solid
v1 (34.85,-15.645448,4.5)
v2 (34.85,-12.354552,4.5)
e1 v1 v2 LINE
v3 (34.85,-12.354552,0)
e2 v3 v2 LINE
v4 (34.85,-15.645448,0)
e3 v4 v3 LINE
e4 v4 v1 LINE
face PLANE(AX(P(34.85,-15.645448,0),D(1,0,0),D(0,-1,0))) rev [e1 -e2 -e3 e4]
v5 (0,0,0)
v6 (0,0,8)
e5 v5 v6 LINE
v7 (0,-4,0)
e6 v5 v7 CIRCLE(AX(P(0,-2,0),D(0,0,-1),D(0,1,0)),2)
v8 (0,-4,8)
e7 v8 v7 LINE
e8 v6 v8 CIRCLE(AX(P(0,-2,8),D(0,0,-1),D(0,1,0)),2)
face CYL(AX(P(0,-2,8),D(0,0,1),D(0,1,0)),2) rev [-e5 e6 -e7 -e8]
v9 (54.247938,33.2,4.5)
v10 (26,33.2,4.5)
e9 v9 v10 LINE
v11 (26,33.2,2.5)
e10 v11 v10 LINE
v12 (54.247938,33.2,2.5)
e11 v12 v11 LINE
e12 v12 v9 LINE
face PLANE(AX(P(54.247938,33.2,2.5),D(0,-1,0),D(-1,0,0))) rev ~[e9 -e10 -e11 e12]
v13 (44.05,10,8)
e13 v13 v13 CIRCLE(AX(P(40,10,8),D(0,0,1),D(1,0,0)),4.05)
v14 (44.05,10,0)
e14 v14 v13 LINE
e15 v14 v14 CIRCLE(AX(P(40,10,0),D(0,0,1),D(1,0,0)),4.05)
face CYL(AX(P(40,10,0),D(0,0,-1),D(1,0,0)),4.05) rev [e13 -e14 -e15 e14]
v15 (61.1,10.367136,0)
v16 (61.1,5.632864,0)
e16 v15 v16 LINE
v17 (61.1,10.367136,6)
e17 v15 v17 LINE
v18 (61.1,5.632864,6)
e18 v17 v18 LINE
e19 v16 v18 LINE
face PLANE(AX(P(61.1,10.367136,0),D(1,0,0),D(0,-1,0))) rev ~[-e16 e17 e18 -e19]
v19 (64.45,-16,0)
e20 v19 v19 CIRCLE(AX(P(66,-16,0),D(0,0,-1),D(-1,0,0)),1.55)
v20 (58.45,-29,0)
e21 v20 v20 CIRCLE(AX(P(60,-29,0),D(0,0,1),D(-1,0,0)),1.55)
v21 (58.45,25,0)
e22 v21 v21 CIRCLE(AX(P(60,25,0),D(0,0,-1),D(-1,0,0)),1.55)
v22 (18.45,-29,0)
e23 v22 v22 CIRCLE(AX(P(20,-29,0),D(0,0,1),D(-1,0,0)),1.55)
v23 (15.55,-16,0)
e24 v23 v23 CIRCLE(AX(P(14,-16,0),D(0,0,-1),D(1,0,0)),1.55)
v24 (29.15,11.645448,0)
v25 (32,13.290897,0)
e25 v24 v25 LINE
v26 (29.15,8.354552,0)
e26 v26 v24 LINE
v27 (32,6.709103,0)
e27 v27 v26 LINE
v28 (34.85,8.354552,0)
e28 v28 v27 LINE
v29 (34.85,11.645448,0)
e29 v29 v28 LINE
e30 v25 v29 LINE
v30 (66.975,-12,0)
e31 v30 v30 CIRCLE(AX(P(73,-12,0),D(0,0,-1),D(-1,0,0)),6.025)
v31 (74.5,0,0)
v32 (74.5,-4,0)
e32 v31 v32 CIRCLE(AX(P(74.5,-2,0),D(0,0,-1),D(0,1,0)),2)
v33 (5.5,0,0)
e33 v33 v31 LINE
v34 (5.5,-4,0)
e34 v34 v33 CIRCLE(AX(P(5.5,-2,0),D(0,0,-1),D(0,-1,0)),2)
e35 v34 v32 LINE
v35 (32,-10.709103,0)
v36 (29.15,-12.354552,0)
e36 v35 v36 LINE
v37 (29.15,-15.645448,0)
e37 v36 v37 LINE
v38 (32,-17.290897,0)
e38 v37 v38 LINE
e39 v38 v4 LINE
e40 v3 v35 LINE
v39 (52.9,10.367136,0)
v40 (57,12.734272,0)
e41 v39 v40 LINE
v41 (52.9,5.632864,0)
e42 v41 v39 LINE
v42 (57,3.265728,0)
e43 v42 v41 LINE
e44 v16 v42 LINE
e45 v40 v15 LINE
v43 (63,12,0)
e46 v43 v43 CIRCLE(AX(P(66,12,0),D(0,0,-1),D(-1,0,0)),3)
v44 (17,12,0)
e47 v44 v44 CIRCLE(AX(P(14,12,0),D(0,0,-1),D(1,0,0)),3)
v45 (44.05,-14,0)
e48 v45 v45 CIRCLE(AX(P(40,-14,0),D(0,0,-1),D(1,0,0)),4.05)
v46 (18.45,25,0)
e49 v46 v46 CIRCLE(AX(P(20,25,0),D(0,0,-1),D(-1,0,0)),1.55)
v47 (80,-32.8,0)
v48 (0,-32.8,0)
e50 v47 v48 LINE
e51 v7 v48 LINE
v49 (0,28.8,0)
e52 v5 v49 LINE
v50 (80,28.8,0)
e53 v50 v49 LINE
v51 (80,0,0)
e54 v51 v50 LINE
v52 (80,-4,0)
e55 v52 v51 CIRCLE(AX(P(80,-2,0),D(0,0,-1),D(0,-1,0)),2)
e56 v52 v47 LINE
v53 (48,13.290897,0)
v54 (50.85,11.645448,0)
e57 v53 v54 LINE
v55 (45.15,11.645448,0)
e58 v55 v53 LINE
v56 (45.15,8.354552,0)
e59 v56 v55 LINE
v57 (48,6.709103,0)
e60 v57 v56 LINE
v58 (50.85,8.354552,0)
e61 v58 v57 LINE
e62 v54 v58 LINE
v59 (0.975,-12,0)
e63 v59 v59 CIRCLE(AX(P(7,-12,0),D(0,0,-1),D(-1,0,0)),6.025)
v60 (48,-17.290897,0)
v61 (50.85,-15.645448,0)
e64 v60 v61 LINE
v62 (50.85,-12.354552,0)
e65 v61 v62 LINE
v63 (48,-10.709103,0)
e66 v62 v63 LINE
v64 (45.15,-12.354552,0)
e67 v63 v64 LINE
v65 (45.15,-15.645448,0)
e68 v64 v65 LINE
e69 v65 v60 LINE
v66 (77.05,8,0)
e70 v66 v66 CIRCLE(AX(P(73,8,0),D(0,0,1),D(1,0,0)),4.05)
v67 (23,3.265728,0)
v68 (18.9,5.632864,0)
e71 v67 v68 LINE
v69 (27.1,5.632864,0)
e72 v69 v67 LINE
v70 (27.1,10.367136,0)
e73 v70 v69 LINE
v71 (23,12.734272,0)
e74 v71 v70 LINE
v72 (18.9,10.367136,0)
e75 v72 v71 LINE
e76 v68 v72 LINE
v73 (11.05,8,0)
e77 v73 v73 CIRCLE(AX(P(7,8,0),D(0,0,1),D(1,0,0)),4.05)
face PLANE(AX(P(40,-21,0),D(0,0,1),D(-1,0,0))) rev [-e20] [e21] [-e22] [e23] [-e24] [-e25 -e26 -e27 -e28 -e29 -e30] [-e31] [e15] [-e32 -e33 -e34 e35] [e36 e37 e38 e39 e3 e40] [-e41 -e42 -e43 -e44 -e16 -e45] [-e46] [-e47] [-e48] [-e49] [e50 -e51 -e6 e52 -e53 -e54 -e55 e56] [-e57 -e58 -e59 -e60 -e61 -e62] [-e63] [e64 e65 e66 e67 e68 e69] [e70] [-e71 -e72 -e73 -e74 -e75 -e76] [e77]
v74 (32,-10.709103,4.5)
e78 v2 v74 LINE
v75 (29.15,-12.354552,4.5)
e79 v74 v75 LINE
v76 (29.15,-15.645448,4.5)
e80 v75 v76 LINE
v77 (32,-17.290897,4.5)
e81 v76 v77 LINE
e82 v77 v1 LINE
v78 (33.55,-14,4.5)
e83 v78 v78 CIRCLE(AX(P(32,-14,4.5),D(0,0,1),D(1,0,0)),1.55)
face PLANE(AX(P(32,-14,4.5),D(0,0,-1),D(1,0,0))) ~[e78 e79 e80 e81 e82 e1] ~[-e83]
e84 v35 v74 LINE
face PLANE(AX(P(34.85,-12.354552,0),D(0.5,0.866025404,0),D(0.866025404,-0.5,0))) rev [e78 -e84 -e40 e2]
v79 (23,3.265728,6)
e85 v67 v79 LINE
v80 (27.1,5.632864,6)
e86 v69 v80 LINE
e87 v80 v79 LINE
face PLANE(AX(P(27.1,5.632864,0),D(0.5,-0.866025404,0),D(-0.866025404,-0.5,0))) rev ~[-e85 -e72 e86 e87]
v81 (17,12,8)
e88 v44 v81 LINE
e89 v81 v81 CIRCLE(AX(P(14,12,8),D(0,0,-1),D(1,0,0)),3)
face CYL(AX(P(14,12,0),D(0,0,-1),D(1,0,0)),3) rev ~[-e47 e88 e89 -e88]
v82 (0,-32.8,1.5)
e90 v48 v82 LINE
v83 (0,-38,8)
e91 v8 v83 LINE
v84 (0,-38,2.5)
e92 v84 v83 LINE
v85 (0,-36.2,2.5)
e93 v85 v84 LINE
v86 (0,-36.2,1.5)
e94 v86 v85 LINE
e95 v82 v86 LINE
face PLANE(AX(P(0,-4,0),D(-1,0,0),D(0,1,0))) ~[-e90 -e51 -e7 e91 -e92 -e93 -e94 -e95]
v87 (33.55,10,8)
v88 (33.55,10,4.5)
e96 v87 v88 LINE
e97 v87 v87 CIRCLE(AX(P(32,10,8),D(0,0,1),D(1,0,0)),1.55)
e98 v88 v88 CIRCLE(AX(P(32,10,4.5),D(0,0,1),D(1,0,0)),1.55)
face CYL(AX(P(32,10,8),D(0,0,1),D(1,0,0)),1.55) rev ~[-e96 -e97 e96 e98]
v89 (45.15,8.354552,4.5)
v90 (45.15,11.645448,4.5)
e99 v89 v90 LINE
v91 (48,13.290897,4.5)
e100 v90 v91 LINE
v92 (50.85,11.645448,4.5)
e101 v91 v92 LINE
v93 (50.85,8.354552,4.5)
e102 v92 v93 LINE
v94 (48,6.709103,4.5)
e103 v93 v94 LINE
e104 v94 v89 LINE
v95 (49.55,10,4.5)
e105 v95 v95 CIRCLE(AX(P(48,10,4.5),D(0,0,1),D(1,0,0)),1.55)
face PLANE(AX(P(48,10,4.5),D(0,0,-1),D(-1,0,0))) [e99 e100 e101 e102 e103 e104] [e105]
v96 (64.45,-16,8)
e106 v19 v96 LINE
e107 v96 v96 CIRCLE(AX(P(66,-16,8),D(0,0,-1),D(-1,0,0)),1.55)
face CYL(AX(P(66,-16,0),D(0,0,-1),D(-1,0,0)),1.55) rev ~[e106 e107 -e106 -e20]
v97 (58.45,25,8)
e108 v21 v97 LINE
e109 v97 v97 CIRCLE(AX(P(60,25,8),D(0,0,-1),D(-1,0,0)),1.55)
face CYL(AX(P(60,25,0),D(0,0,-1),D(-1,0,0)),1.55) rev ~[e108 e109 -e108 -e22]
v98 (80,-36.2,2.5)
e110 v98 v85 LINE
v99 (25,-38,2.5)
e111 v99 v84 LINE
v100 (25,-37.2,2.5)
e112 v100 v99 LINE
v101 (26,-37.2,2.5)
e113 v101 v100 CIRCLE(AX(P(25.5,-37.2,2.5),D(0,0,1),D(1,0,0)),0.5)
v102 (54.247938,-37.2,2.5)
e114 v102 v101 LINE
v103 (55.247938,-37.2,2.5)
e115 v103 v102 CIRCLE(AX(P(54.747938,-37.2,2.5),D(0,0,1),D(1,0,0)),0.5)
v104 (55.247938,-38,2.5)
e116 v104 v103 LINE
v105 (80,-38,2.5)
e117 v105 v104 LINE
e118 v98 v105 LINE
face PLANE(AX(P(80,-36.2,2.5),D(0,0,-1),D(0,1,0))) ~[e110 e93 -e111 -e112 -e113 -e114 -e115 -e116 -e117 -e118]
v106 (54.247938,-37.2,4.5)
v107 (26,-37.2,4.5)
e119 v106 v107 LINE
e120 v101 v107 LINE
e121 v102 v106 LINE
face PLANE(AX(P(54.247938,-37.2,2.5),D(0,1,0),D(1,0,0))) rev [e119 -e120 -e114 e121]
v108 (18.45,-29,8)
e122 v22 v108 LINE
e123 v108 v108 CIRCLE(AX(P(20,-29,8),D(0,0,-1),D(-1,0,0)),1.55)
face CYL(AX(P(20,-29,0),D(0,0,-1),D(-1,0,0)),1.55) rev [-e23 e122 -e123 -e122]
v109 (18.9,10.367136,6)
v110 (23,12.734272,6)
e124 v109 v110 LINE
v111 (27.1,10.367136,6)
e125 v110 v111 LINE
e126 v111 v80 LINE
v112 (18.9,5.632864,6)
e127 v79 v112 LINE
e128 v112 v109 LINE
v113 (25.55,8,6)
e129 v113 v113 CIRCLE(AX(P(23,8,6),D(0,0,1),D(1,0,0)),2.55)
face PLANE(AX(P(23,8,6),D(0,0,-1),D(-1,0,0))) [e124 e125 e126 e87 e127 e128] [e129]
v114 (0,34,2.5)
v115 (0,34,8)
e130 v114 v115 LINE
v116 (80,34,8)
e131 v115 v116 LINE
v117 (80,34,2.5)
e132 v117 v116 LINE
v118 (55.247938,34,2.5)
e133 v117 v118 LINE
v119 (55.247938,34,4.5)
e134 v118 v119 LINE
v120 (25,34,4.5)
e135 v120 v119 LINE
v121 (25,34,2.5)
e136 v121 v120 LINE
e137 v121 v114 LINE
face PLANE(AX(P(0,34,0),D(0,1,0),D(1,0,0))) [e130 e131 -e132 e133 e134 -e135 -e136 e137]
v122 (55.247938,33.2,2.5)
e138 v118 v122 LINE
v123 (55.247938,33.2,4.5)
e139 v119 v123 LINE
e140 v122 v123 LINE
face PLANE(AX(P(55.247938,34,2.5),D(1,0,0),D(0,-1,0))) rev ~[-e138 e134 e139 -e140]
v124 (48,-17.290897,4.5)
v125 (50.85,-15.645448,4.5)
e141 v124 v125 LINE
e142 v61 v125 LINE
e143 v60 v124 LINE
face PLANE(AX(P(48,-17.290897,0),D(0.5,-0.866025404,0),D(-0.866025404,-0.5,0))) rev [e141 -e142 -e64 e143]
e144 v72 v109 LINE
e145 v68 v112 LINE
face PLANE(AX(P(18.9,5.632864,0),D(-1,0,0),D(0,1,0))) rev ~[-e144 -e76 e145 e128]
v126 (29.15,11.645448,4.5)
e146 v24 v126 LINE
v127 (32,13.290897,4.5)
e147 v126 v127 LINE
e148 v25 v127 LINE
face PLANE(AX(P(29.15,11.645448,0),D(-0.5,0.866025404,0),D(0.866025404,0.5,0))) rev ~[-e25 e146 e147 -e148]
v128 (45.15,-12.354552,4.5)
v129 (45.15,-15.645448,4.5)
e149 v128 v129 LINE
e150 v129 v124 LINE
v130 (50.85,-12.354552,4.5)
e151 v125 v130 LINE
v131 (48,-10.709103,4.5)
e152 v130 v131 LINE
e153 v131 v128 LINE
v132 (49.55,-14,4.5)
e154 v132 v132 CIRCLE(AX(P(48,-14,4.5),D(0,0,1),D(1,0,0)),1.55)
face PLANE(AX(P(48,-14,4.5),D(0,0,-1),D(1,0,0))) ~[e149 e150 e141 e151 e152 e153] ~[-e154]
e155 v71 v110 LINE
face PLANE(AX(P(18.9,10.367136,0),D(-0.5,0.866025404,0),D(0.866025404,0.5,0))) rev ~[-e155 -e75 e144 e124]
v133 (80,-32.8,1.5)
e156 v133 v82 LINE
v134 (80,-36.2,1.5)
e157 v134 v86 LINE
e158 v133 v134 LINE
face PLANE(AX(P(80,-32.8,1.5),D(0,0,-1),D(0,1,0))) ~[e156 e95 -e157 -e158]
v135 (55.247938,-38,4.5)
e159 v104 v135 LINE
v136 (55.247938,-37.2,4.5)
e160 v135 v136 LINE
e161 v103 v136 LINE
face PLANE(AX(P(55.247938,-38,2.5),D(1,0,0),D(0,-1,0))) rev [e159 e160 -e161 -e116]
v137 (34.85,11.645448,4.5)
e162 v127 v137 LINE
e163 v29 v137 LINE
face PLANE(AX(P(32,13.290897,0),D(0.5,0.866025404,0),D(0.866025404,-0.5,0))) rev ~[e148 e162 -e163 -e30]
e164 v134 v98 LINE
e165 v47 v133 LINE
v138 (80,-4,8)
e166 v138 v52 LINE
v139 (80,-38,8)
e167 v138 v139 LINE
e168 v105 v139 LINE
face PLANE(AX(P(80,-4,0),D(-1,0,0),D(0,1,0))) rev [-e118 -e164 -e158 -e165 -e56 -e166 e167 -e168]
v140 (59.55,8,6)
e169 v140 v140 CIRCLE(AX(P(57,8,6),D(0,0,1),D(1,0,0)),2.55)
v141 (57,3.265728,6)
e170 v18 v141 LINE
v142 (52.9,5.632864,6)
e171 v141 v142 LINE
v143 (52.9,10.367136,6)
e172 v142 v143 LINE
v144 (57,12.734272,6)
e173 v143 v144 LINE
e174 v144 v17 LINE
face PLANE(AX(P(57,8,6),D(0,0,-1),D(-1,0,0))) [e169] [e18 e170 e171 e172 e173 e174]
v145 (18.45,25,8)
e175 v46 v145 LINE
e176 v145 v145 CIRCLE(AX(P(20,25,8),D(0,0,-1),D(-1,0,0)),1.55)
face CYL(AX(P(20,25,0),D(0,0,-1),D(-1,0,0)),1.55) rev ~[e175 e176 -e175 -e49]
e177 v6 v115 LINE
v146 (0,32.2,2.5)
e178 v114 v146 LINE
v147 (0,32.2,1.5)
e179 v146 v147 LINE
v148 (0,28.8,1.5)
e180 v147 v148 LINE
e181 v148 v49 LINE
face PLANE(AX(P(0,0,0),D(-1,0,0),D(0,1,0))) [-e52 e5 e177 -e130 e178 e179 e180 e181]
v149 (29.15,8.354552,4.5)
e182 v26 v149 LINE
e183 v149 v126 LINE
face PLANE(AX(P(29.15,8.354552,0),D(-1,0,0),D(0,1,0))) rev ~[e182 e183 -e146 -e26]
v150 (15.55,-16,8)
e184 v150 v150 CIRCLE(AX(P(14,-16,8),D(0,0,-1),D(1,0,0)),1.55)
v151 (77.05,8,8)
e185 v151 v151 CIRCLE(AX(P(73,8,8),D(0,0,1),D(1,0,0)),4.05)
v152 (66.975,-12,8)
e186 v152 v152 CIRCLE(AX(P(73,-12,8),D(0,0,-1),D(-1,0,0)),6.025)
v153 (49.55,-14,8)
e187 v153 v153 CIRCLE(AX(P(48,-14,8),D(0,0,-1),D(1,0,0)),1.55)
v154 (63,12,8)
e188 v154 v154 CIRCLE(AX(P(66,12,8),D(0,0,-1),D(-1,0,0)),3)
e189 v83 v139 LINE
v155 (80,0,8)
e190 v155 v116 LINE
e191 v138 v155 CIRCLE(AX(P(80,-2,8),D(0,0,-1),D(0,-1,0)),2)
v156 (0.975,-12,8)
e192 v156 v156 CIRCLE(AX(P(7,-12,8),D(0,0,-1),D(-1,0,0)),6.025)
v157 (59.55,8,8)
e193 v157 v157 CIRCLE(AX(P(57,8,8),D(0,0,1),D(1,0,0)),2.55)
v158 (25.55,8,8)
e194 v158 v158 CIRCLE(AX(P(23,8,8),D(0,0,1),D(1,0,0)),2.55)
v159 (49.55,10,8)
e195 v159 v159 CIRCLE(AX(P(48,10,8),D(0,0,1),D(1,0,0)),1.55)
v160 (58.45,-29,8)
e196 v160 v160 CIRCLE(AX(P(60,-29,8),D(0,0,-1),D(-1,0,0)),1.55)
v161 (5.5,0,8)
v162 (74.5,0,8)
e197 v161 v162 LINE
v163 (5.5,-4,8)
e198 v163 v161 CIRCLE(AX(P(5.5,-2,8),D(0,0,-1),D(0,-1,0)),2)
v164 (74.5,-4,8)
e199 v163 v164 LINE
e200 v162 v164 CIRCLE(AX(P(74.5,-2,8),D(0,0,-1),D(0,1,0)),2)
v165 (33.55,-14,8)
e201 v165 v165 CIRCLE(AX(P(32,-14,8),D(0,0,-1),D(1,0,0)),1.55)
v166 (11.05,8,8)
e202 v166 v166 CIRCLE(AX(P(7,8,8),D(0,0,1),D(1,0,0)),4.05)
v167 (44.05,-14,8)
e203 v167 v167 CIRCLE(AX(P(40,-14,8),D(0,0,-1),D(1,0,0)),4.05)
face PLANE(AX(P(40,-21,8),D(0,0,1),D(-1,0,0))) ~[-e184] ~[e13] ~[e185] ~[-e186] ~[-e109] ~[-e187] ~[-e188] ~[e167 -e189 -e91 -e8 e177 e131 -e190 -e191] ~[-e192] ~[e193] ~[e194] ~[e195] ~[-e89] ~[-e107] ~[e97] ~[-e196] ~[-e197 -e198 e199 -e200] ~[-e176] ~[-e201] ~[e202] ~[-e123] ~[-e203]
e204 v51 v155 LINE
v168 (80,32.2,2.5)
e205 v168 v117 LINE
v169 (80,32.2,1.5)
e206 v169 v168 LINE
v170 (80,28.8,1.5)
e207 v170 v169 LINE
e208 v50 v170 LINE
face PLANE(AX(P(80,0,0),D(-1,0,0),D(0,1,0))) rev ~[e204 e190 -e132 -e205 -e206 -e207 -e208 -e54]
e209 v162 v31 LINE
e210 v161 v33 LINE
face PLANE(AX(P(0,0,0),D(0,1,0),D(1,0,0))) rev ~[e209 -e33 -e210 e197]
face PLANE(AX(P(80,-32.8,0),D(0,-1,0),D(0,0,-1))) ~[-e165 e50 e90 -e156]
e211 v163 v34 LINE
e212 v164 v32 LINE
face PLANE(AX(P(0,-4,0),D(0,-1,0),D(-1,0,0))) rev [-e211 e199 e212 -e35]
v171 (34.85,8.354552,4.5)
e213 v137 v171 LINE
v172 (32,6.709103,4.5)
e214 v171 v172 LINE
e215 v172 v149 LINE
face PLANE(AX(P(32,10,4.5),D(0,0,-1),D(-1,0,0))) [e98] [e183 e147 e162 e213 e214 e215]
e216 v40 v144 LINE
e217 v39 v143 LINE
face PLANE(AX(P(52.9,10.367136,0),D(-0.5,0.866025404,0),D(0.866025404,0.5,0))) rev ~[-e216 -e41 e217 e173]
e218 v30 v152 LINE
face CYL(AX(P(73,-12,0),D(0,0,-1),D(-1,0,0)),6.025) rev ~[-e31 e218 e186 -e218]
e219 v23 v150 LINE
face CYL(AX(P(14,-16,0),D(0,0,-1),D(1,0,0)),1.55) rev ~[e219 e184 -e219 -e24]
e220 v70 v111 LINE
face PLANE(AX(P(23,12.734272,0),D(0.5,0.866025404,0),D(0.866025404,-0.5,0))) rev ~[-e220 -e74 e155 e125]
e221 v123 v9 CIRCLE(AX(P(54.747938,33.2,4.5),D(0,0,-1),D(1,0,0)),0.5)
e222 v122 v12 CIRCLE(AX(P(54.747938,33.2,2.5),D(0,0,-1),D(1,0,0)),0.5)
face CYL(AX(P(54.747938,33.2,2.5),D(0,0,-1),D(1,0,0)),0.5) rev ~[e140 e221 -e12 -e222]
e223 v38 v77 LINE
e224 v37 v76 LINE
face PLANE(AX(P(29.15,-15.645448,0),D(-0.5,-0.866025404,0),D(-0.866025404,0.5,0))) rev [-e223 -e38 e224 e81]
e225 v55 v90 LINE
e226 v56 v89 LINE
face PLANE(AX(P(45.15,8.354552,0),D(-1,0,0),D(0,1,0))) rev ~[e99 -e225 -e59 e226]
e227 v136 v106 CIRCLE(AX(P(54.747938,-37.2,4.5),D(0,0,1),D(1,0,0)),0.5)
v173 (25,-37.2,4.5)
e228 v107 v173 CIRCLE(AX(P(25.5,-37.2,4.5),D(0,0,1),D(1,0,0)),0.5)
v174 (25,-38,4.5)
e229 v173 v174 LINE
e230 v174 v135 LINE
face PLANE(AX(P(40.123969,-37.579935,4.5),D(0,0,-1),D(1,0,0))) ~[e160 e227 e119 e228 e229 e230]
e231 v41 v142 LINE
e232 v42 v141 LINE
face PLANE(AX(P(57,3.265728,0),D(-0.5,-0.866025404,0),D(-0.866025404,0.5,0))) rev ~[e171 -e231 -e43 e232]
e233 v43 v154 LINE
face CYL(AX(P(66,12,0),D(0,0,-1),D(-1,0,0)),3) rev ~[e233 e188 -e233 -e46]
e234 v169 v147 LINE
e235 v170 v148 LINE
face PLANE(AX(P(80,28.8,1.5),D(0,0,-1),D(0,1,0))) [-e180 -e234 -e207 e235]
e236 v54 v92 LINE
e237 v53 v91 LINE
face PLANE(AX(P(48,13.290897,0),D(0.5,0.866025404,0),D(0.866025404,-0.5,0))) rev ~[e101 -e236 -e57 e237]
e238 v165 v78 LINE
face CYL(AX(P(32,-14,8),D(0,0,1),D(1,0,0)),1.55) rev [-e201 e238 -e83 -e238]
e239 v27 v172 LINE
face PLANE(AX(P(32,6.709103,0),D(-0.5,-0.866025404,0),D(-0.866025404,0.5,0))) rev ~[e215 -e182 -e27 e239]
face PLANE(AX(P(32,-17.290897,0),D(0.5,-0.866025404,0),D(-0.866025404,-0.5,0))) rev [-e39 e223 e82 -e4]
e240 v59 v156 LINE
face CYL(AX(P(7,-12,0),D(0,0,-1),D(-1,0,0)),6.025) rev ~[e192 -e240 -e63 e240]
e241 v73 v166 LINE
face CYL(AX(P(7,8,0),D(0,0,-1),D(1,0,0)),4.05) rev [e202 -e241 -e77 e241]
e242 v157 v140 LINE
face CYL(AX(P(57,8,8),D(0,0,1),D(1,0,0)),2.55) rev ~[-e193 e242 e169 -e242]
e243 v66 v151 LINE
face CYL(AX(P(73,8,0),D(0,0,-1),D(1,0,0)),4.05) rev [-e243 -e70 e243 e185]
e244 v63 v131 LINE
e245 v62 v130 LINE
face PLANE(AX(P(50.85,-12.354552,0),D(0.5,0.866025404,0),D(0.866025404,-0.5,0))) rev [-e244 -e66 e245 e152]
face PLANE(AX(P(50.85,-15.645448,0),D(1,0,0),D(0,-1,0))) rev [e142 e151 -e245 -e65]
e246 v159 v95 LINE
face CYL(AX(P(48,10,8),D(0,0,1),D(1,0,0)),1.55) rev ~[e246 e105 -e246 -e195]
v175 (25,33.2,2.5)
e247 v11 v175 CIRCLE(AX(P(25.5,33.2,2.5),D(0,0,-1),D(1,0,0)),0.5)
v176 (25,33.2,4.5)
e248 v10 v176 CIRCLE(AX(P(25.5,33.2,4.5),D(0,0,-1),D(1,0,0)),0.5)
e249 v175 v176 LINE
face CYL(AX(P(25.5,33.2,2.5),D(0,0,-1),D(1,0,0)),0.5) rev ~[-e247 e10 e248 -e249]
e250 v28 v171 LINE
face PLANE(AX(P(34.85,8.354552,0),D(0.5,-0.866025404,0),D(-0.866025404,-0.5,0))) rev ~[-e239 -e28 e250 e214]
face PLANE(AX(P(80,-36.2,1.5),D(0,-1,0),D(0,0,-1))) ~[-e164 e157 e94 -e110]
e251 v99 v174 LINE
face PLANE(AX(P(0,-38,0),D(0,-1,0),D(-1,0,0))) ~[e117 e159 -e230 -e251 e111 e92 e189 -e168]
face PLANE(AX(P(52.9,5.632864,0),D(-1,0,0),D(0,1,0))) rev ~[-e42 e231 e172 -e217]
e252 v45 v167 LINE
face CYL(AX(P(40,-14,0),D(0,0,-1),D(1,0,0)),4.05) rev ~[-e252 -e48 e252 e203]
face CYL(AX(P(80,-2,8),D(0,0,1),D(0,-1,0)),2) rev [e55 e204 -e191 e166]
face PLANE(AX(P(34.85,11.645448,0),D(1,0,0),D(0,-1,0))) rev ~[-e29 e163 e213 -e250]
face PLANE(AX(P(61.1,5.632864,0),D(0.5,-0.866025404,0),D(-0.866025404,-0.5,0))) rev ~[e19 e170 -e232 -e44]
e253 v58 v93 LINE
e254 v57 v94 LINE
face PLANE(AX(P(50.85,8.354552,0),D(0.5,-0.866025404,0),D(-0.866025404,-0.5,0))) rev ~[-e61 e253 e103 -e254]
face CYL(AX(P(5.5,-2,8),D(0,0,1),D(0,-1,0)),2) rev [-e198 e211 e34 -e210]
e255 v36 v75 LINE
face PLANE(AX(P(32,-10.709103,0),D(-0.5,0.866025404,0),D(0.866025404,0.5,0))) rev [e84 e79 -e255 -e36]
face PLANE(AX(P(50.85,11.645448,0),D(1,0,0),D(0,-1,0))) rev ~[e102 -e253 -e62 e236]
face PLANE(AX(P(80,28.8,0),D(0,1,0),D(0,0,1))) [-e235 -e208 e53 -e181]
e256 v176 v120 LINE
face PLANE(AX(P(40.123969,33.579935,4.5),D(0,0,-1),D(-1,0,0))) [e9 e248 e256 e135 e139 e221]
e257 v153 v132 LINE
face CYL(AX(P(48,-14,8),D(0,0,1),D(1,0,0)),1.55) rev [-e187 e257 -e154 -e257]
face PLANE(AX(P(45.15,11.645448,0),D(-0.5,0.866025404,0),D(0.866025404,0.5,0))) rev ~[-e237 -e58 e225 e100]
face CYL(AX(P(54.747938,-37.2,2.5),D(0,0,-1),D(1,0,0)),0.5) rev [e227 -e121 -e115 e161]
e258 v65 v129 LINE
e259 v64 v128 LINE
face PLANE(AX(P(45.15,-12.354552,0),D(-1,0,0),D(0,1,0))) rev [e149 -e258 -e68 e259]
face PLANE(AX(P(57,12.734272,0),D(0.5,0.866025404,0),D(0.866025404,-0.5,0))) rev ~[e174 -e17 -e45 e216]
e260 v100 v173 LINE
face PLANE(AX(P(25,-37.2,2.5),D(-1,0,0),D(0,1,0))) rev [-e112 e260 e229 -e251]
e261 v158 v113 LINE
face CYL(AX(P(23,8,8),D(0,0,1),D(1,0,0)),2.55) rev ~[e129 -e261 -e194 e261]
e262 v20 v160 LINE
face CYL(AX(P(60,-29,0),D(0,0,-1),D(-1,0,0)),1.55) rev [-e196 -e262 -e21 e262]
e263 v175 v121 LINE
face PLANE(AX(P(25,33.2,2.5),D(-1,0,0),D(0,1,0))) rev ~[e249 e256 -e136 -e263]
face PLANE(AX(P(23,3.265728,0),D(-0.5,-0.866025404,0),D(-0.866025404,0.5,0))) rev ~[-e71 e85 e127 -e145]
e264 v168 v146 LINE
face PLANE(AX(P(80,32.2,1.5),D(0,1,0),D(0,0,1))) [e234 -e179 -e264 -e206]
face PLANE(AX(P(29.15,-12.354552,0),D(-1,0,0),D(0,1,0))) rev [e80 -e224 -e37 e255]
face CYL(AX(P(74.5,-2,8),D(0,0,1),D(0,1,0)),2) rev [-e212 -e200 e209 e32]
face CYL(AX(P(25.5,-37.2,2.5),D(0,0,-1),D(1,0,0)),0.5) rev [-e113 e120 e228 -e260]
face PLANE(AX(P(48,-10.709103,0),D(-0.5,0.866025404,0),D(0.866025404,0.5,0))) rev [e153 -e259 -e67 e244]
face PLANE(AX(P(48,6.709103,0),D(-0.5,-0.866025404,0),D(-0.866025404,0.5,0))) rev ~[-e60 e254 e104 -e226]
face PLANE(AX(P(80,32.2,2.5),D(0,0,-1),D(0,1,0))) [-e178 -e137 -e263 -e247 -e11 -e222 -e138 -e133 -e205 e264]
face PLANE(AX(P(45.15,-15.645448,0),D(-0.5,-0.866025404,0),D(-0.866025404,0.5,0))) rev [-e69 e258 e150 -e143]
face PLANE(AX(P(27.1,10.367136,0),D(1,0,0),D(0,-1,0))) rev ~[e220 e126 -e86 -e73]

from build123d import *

# Parameters (mm, degrees)
SKETCH_2_W           = 80
SKETCH_2_H           = 34
SKETCH_2_R           = 4.05
EXTRUDE_1_DEPTH      = 8
SKETCH_3_R           = 2.55
CUT_EXTRUDE_1_DEPTH  = 88.292611371
CUT_EXTRUDE_2_DEPTH  = 88.292611371
SKETCH_5_R           = 1.55
CUT_EXTRUDE_3_DEPTH  = 88.292611371
CUT_EXTRUDE_5_DEPTH  = 4.5
SKETCH_25_R          = 1.55
CUT_EXTRUDE_13_DEPTH = 88.292611371
CUT_EXTRUDE_11_DEPTH = 2
EXTRUDE_2_DEPTH      = 8
SKETCH_26_R          = 6.025
CUT_EXTRUDE_14_DEPTH = 89.926936302
SKETCH_27_R          = 3
SKETCH_27_R_2        = 1.55
CUT_EXTRUDE_15_DEPTH = 89.926936302
CUT_EXTRUDE_16_DEPTH = 6


with BuildPart() as part:
    # 草图2 → 凸台-拉伸1 (new body)
    with BuildSketch(Plane.XY):
        with Locations((40, 17)):
            Rectangle(SKETCH_2_W, SKETCH_2_H)
        with Locations((7, 8)):
            Circle(SKETCH_2_R, mode=Mode.SUBTRACT)
        with Locations((40, 10)):
            Circle(SKETCH_2_R, mode=Mode.SUBTRACT)
        with Locations((73, 8)):
            Circle(SKETCH_2_R, mode=Mode.SUBTRACT)
    extrude_1 = extrude(amount=EXTRUDE_1_DEPTH)

    # 草图3 → 切除-拉伸1 (cut, through all)
    with BuildSketch(Plane.XY.offset(8)):
        with Locations((23, 8)):
            Circle(SKETCH_3_R)
        with Locations((57, 8)):
            Circle(SKETCH_3_R)
    extrude(amount=-CUT_EXTRUDE_1_DEPTH, mode=Mode.SUBTRACT)

    # 草图4 → 切除-拉伸2 (cut, through all)
    with BuildSketch(Plane(origin=(80, 0, 0), x_dir=(0, 0, -1), z_dir=(1, 0, 0))):
        Polygon((-1.5, 32.2), (-2.5, 32.2), (-2.5, 34), (0, 34), (0, 28.8), (-1.5, 28.8), align=None)
    cut_extrude_2 = extrude(amount=-CUT_EXTRUDE_2_DEPTH, mode=Mode.SUBTRACT)

    # 草图5 → 切除-拉伸3 (cut, through all)
    with BuildSketch(Plane.XY.offset(8)):
        with Locations((48, 10)):
            Circle(SKETCH_5_R)
        with Locations((32, 10)):
            Circle(SKETCH_5_R)
    cut_extrude_3 = extrude(amount=-CUT_EXTRUDE_3_DEPTH, mode=Mode.SUBTRACT)

    # 草图8 → 切除-拉伸5 (cut)
    with BuildSketch(Plane(origin=(0, 0, 0), x_dir=(-1, 0, 0), z_dir=(0, 0, -1))):
        Polygon((-45.15, 8.354551733), (-45.15, 11.645448267), (-48, 13.290896534), (-50.85, 11.645448267), (-50.85, 8.354551733), (-48, 6.709103466), align=None)
        Polygon((-29.15, 8.354551733), (-29.15, 11.645448267), (-32, 13.290896534), (-34.85, 11.645448267), (-34.85, 8.354551733), (-32, 6.709103466), align=None)
    cut_extrude_5 = extrude(amount=-CUT_EXTRUDE_5_DEPTH, mode=Mode.SUBTRACT)

    # 草图25 → 切除-拉伸13 (cut, through all)
    with BuildSketch(Plane(origin=(0, 0, 0), x_dir=(-1, 0, 0), z_dir=(0, 0, -1))):
        with Locations((-60, 25)):
            Circle(SKETCH_25_R)
        with Locations((-20, 25)):
            Circle(SKETCH_25_R)
    cut_extrude_13 = extrude(amount=-CUT_EXTRUDE_13_DEPTH, mode=Mode.SUBTRACT)

    # 草图19 → 切除-拉伸11 (cut)
    with BuildSketch(Plane(origin=(0, 0, 2.5), x_dir=(-1, 0, 0), z_dir=(0, 0, -1))):
        with BuildLine():
            Line((-25, 34), (-55.247938178, 34))
            Line((-55.247938178, 34), (-55.247938178, 33.2))
            ThreePointArc((-55.247938178, 33.2), (-54.747938178, 32.7), (-54.247938178, 33.2))
            Line((-54.247938178, 33.2), (-26, 33.2))
            ThreePointArc((-26, 33.2), (-25.5, 32.7), (-25, 33.2))
            Line((-25, 33.2), (-25, 34))
        make_face()
    cut_extrude_11 = extrude(amount=-CUT_EXTRUDE_11_DEPTH, mode=Mode.SUBTRACT)

    # 草图22 → 凸台-拉伸2 (add)
    with BuildSketch(Plane.XY.offset(8)):
        with BuildLine():
            Line((0, -4), (5.5, -4))
            ThreePointArc((5.5, -4), (3.5, -2), (5.5, 0))
            Line((5.5, 0), (0, 0))
            ThreePointArc((0, 0), (2, -2), (0, -4))
        make_face()
        with BuildLine():
            Line((80, 0), (74.5, 0))
            ThreePointArc((74.5, 0), (76.5, -2), (74.5, -4))
            Line((74.5, -4), (80, -4))
            ThreePointArc((80, -4), (78, -2), (80, 0))
        make_face()
    extrude(amount=-EXTRUDE_2_DEPTH)

    # 镜向2: 凸台-拉伸1, 切除-拉伸2, 切除-拉伸3, 切除-拉伸5, 切除-拉伸13, 切除-拉伸11 across plane
    add(extrude_1.mirror(Plane(origin=(0, -2, 0), x_dir=(0, 0, 1), z_dir=(0, -1, 0))))
    add(cut_extrude_2.mirror(Plane(origin=(0, -2, 0), x_dir=(0, 0, 1), z_dir=(0, -1, 0))), mode=Mode.SUBTRACT)
    add(cut_extrude_3.mirror(Plane(origin=(0, -2, 0), x_dir=(0, 0, 1), z_dir=(0, -1, 0))), mode=Mode.SUBTRACT)
    add(cut_extrude_5.mirror(Plane(origin=(0, -2, 0), x_dir=(0, 0, 1), z_dir=(0, -1, 0))), mode=Mode.SUBTRACT)
    add(cut_extrude_13.mirror(Plane(origin=(0, -2, 0), x_dir=(0, 0, 1), z_dir=(0, -1, 0))), mode=Mode.SUBTRACT)
    add(cut_extrude_11.mirror(Plane(origin=(0, -2, 0), x_dir=(0, 0, 1), z_dir=(0, -1, 0))), mode=Mode.SUBTRACT)

    # 草图26 → 切除-拉伸14 (cut, through all)
    with BuildSketch(Plane(origin=(0, 0, 0), x_dir=(-1, 0, 0), z_dir=(0, 0, -1))):
        with Locations((-73, -12)):
            Circle(SKETCH_26_R)
        with Locations((-7, -12)):
            Circle(SKETCH_26_R)
    extrude(amount=-CUT_EXTRUDE_14_DEPTH, mode=Mode.SUBTRACT)

    # 草图27 → 切除-拉伸15 (cut, through all)
    with BuildSketch(Plane(origin=(0, 0, 0), x_dir=(-1, 0, 0), z_dir=(0, 0, -1))):
        with Locations((-66, 12)):
            Circle(SKETCH_27_R)
        with Locations((-66, -16)):
            Circle(SKETCH_27_R_2)
        with Locations((-14, -16)):
            Circle(SKETCH_27_R_2)
        with Locations((-14, 12)):
            Circle(SKETCH_27_R)
    extrude(amount=-CUT_EXTRUDE_15_DEPTH, mode=Mode.SUBTRACT)

    # 草图28 → 切除-拉伸16 (cut)
    with BuildSketch(Plane(origin=(0, 0, 0), x_dir=(-1, 0, 0), z_dir=(0, 0, -1))):
        Polygon((-52.9, 5.632863896), (-52.9, 10.367136104), (-57, 12.734272207), (-61.1, 10.367136104), (-61.1, 5.632863896), (-57, 3.265727793), align=None)
        Polygon((-18.9, 5.632863896), (-18.9, 10.367136104), (-23, 12.734272207), (-27.1, 10.367136104), (-27.1, 5.632863896), (-23, 3.265727793), align=None)
    extrude(amount=-CUT_EXTRUDE_16_DEPTH, mode=Mode.SUBTRACT)


solid = part.part
